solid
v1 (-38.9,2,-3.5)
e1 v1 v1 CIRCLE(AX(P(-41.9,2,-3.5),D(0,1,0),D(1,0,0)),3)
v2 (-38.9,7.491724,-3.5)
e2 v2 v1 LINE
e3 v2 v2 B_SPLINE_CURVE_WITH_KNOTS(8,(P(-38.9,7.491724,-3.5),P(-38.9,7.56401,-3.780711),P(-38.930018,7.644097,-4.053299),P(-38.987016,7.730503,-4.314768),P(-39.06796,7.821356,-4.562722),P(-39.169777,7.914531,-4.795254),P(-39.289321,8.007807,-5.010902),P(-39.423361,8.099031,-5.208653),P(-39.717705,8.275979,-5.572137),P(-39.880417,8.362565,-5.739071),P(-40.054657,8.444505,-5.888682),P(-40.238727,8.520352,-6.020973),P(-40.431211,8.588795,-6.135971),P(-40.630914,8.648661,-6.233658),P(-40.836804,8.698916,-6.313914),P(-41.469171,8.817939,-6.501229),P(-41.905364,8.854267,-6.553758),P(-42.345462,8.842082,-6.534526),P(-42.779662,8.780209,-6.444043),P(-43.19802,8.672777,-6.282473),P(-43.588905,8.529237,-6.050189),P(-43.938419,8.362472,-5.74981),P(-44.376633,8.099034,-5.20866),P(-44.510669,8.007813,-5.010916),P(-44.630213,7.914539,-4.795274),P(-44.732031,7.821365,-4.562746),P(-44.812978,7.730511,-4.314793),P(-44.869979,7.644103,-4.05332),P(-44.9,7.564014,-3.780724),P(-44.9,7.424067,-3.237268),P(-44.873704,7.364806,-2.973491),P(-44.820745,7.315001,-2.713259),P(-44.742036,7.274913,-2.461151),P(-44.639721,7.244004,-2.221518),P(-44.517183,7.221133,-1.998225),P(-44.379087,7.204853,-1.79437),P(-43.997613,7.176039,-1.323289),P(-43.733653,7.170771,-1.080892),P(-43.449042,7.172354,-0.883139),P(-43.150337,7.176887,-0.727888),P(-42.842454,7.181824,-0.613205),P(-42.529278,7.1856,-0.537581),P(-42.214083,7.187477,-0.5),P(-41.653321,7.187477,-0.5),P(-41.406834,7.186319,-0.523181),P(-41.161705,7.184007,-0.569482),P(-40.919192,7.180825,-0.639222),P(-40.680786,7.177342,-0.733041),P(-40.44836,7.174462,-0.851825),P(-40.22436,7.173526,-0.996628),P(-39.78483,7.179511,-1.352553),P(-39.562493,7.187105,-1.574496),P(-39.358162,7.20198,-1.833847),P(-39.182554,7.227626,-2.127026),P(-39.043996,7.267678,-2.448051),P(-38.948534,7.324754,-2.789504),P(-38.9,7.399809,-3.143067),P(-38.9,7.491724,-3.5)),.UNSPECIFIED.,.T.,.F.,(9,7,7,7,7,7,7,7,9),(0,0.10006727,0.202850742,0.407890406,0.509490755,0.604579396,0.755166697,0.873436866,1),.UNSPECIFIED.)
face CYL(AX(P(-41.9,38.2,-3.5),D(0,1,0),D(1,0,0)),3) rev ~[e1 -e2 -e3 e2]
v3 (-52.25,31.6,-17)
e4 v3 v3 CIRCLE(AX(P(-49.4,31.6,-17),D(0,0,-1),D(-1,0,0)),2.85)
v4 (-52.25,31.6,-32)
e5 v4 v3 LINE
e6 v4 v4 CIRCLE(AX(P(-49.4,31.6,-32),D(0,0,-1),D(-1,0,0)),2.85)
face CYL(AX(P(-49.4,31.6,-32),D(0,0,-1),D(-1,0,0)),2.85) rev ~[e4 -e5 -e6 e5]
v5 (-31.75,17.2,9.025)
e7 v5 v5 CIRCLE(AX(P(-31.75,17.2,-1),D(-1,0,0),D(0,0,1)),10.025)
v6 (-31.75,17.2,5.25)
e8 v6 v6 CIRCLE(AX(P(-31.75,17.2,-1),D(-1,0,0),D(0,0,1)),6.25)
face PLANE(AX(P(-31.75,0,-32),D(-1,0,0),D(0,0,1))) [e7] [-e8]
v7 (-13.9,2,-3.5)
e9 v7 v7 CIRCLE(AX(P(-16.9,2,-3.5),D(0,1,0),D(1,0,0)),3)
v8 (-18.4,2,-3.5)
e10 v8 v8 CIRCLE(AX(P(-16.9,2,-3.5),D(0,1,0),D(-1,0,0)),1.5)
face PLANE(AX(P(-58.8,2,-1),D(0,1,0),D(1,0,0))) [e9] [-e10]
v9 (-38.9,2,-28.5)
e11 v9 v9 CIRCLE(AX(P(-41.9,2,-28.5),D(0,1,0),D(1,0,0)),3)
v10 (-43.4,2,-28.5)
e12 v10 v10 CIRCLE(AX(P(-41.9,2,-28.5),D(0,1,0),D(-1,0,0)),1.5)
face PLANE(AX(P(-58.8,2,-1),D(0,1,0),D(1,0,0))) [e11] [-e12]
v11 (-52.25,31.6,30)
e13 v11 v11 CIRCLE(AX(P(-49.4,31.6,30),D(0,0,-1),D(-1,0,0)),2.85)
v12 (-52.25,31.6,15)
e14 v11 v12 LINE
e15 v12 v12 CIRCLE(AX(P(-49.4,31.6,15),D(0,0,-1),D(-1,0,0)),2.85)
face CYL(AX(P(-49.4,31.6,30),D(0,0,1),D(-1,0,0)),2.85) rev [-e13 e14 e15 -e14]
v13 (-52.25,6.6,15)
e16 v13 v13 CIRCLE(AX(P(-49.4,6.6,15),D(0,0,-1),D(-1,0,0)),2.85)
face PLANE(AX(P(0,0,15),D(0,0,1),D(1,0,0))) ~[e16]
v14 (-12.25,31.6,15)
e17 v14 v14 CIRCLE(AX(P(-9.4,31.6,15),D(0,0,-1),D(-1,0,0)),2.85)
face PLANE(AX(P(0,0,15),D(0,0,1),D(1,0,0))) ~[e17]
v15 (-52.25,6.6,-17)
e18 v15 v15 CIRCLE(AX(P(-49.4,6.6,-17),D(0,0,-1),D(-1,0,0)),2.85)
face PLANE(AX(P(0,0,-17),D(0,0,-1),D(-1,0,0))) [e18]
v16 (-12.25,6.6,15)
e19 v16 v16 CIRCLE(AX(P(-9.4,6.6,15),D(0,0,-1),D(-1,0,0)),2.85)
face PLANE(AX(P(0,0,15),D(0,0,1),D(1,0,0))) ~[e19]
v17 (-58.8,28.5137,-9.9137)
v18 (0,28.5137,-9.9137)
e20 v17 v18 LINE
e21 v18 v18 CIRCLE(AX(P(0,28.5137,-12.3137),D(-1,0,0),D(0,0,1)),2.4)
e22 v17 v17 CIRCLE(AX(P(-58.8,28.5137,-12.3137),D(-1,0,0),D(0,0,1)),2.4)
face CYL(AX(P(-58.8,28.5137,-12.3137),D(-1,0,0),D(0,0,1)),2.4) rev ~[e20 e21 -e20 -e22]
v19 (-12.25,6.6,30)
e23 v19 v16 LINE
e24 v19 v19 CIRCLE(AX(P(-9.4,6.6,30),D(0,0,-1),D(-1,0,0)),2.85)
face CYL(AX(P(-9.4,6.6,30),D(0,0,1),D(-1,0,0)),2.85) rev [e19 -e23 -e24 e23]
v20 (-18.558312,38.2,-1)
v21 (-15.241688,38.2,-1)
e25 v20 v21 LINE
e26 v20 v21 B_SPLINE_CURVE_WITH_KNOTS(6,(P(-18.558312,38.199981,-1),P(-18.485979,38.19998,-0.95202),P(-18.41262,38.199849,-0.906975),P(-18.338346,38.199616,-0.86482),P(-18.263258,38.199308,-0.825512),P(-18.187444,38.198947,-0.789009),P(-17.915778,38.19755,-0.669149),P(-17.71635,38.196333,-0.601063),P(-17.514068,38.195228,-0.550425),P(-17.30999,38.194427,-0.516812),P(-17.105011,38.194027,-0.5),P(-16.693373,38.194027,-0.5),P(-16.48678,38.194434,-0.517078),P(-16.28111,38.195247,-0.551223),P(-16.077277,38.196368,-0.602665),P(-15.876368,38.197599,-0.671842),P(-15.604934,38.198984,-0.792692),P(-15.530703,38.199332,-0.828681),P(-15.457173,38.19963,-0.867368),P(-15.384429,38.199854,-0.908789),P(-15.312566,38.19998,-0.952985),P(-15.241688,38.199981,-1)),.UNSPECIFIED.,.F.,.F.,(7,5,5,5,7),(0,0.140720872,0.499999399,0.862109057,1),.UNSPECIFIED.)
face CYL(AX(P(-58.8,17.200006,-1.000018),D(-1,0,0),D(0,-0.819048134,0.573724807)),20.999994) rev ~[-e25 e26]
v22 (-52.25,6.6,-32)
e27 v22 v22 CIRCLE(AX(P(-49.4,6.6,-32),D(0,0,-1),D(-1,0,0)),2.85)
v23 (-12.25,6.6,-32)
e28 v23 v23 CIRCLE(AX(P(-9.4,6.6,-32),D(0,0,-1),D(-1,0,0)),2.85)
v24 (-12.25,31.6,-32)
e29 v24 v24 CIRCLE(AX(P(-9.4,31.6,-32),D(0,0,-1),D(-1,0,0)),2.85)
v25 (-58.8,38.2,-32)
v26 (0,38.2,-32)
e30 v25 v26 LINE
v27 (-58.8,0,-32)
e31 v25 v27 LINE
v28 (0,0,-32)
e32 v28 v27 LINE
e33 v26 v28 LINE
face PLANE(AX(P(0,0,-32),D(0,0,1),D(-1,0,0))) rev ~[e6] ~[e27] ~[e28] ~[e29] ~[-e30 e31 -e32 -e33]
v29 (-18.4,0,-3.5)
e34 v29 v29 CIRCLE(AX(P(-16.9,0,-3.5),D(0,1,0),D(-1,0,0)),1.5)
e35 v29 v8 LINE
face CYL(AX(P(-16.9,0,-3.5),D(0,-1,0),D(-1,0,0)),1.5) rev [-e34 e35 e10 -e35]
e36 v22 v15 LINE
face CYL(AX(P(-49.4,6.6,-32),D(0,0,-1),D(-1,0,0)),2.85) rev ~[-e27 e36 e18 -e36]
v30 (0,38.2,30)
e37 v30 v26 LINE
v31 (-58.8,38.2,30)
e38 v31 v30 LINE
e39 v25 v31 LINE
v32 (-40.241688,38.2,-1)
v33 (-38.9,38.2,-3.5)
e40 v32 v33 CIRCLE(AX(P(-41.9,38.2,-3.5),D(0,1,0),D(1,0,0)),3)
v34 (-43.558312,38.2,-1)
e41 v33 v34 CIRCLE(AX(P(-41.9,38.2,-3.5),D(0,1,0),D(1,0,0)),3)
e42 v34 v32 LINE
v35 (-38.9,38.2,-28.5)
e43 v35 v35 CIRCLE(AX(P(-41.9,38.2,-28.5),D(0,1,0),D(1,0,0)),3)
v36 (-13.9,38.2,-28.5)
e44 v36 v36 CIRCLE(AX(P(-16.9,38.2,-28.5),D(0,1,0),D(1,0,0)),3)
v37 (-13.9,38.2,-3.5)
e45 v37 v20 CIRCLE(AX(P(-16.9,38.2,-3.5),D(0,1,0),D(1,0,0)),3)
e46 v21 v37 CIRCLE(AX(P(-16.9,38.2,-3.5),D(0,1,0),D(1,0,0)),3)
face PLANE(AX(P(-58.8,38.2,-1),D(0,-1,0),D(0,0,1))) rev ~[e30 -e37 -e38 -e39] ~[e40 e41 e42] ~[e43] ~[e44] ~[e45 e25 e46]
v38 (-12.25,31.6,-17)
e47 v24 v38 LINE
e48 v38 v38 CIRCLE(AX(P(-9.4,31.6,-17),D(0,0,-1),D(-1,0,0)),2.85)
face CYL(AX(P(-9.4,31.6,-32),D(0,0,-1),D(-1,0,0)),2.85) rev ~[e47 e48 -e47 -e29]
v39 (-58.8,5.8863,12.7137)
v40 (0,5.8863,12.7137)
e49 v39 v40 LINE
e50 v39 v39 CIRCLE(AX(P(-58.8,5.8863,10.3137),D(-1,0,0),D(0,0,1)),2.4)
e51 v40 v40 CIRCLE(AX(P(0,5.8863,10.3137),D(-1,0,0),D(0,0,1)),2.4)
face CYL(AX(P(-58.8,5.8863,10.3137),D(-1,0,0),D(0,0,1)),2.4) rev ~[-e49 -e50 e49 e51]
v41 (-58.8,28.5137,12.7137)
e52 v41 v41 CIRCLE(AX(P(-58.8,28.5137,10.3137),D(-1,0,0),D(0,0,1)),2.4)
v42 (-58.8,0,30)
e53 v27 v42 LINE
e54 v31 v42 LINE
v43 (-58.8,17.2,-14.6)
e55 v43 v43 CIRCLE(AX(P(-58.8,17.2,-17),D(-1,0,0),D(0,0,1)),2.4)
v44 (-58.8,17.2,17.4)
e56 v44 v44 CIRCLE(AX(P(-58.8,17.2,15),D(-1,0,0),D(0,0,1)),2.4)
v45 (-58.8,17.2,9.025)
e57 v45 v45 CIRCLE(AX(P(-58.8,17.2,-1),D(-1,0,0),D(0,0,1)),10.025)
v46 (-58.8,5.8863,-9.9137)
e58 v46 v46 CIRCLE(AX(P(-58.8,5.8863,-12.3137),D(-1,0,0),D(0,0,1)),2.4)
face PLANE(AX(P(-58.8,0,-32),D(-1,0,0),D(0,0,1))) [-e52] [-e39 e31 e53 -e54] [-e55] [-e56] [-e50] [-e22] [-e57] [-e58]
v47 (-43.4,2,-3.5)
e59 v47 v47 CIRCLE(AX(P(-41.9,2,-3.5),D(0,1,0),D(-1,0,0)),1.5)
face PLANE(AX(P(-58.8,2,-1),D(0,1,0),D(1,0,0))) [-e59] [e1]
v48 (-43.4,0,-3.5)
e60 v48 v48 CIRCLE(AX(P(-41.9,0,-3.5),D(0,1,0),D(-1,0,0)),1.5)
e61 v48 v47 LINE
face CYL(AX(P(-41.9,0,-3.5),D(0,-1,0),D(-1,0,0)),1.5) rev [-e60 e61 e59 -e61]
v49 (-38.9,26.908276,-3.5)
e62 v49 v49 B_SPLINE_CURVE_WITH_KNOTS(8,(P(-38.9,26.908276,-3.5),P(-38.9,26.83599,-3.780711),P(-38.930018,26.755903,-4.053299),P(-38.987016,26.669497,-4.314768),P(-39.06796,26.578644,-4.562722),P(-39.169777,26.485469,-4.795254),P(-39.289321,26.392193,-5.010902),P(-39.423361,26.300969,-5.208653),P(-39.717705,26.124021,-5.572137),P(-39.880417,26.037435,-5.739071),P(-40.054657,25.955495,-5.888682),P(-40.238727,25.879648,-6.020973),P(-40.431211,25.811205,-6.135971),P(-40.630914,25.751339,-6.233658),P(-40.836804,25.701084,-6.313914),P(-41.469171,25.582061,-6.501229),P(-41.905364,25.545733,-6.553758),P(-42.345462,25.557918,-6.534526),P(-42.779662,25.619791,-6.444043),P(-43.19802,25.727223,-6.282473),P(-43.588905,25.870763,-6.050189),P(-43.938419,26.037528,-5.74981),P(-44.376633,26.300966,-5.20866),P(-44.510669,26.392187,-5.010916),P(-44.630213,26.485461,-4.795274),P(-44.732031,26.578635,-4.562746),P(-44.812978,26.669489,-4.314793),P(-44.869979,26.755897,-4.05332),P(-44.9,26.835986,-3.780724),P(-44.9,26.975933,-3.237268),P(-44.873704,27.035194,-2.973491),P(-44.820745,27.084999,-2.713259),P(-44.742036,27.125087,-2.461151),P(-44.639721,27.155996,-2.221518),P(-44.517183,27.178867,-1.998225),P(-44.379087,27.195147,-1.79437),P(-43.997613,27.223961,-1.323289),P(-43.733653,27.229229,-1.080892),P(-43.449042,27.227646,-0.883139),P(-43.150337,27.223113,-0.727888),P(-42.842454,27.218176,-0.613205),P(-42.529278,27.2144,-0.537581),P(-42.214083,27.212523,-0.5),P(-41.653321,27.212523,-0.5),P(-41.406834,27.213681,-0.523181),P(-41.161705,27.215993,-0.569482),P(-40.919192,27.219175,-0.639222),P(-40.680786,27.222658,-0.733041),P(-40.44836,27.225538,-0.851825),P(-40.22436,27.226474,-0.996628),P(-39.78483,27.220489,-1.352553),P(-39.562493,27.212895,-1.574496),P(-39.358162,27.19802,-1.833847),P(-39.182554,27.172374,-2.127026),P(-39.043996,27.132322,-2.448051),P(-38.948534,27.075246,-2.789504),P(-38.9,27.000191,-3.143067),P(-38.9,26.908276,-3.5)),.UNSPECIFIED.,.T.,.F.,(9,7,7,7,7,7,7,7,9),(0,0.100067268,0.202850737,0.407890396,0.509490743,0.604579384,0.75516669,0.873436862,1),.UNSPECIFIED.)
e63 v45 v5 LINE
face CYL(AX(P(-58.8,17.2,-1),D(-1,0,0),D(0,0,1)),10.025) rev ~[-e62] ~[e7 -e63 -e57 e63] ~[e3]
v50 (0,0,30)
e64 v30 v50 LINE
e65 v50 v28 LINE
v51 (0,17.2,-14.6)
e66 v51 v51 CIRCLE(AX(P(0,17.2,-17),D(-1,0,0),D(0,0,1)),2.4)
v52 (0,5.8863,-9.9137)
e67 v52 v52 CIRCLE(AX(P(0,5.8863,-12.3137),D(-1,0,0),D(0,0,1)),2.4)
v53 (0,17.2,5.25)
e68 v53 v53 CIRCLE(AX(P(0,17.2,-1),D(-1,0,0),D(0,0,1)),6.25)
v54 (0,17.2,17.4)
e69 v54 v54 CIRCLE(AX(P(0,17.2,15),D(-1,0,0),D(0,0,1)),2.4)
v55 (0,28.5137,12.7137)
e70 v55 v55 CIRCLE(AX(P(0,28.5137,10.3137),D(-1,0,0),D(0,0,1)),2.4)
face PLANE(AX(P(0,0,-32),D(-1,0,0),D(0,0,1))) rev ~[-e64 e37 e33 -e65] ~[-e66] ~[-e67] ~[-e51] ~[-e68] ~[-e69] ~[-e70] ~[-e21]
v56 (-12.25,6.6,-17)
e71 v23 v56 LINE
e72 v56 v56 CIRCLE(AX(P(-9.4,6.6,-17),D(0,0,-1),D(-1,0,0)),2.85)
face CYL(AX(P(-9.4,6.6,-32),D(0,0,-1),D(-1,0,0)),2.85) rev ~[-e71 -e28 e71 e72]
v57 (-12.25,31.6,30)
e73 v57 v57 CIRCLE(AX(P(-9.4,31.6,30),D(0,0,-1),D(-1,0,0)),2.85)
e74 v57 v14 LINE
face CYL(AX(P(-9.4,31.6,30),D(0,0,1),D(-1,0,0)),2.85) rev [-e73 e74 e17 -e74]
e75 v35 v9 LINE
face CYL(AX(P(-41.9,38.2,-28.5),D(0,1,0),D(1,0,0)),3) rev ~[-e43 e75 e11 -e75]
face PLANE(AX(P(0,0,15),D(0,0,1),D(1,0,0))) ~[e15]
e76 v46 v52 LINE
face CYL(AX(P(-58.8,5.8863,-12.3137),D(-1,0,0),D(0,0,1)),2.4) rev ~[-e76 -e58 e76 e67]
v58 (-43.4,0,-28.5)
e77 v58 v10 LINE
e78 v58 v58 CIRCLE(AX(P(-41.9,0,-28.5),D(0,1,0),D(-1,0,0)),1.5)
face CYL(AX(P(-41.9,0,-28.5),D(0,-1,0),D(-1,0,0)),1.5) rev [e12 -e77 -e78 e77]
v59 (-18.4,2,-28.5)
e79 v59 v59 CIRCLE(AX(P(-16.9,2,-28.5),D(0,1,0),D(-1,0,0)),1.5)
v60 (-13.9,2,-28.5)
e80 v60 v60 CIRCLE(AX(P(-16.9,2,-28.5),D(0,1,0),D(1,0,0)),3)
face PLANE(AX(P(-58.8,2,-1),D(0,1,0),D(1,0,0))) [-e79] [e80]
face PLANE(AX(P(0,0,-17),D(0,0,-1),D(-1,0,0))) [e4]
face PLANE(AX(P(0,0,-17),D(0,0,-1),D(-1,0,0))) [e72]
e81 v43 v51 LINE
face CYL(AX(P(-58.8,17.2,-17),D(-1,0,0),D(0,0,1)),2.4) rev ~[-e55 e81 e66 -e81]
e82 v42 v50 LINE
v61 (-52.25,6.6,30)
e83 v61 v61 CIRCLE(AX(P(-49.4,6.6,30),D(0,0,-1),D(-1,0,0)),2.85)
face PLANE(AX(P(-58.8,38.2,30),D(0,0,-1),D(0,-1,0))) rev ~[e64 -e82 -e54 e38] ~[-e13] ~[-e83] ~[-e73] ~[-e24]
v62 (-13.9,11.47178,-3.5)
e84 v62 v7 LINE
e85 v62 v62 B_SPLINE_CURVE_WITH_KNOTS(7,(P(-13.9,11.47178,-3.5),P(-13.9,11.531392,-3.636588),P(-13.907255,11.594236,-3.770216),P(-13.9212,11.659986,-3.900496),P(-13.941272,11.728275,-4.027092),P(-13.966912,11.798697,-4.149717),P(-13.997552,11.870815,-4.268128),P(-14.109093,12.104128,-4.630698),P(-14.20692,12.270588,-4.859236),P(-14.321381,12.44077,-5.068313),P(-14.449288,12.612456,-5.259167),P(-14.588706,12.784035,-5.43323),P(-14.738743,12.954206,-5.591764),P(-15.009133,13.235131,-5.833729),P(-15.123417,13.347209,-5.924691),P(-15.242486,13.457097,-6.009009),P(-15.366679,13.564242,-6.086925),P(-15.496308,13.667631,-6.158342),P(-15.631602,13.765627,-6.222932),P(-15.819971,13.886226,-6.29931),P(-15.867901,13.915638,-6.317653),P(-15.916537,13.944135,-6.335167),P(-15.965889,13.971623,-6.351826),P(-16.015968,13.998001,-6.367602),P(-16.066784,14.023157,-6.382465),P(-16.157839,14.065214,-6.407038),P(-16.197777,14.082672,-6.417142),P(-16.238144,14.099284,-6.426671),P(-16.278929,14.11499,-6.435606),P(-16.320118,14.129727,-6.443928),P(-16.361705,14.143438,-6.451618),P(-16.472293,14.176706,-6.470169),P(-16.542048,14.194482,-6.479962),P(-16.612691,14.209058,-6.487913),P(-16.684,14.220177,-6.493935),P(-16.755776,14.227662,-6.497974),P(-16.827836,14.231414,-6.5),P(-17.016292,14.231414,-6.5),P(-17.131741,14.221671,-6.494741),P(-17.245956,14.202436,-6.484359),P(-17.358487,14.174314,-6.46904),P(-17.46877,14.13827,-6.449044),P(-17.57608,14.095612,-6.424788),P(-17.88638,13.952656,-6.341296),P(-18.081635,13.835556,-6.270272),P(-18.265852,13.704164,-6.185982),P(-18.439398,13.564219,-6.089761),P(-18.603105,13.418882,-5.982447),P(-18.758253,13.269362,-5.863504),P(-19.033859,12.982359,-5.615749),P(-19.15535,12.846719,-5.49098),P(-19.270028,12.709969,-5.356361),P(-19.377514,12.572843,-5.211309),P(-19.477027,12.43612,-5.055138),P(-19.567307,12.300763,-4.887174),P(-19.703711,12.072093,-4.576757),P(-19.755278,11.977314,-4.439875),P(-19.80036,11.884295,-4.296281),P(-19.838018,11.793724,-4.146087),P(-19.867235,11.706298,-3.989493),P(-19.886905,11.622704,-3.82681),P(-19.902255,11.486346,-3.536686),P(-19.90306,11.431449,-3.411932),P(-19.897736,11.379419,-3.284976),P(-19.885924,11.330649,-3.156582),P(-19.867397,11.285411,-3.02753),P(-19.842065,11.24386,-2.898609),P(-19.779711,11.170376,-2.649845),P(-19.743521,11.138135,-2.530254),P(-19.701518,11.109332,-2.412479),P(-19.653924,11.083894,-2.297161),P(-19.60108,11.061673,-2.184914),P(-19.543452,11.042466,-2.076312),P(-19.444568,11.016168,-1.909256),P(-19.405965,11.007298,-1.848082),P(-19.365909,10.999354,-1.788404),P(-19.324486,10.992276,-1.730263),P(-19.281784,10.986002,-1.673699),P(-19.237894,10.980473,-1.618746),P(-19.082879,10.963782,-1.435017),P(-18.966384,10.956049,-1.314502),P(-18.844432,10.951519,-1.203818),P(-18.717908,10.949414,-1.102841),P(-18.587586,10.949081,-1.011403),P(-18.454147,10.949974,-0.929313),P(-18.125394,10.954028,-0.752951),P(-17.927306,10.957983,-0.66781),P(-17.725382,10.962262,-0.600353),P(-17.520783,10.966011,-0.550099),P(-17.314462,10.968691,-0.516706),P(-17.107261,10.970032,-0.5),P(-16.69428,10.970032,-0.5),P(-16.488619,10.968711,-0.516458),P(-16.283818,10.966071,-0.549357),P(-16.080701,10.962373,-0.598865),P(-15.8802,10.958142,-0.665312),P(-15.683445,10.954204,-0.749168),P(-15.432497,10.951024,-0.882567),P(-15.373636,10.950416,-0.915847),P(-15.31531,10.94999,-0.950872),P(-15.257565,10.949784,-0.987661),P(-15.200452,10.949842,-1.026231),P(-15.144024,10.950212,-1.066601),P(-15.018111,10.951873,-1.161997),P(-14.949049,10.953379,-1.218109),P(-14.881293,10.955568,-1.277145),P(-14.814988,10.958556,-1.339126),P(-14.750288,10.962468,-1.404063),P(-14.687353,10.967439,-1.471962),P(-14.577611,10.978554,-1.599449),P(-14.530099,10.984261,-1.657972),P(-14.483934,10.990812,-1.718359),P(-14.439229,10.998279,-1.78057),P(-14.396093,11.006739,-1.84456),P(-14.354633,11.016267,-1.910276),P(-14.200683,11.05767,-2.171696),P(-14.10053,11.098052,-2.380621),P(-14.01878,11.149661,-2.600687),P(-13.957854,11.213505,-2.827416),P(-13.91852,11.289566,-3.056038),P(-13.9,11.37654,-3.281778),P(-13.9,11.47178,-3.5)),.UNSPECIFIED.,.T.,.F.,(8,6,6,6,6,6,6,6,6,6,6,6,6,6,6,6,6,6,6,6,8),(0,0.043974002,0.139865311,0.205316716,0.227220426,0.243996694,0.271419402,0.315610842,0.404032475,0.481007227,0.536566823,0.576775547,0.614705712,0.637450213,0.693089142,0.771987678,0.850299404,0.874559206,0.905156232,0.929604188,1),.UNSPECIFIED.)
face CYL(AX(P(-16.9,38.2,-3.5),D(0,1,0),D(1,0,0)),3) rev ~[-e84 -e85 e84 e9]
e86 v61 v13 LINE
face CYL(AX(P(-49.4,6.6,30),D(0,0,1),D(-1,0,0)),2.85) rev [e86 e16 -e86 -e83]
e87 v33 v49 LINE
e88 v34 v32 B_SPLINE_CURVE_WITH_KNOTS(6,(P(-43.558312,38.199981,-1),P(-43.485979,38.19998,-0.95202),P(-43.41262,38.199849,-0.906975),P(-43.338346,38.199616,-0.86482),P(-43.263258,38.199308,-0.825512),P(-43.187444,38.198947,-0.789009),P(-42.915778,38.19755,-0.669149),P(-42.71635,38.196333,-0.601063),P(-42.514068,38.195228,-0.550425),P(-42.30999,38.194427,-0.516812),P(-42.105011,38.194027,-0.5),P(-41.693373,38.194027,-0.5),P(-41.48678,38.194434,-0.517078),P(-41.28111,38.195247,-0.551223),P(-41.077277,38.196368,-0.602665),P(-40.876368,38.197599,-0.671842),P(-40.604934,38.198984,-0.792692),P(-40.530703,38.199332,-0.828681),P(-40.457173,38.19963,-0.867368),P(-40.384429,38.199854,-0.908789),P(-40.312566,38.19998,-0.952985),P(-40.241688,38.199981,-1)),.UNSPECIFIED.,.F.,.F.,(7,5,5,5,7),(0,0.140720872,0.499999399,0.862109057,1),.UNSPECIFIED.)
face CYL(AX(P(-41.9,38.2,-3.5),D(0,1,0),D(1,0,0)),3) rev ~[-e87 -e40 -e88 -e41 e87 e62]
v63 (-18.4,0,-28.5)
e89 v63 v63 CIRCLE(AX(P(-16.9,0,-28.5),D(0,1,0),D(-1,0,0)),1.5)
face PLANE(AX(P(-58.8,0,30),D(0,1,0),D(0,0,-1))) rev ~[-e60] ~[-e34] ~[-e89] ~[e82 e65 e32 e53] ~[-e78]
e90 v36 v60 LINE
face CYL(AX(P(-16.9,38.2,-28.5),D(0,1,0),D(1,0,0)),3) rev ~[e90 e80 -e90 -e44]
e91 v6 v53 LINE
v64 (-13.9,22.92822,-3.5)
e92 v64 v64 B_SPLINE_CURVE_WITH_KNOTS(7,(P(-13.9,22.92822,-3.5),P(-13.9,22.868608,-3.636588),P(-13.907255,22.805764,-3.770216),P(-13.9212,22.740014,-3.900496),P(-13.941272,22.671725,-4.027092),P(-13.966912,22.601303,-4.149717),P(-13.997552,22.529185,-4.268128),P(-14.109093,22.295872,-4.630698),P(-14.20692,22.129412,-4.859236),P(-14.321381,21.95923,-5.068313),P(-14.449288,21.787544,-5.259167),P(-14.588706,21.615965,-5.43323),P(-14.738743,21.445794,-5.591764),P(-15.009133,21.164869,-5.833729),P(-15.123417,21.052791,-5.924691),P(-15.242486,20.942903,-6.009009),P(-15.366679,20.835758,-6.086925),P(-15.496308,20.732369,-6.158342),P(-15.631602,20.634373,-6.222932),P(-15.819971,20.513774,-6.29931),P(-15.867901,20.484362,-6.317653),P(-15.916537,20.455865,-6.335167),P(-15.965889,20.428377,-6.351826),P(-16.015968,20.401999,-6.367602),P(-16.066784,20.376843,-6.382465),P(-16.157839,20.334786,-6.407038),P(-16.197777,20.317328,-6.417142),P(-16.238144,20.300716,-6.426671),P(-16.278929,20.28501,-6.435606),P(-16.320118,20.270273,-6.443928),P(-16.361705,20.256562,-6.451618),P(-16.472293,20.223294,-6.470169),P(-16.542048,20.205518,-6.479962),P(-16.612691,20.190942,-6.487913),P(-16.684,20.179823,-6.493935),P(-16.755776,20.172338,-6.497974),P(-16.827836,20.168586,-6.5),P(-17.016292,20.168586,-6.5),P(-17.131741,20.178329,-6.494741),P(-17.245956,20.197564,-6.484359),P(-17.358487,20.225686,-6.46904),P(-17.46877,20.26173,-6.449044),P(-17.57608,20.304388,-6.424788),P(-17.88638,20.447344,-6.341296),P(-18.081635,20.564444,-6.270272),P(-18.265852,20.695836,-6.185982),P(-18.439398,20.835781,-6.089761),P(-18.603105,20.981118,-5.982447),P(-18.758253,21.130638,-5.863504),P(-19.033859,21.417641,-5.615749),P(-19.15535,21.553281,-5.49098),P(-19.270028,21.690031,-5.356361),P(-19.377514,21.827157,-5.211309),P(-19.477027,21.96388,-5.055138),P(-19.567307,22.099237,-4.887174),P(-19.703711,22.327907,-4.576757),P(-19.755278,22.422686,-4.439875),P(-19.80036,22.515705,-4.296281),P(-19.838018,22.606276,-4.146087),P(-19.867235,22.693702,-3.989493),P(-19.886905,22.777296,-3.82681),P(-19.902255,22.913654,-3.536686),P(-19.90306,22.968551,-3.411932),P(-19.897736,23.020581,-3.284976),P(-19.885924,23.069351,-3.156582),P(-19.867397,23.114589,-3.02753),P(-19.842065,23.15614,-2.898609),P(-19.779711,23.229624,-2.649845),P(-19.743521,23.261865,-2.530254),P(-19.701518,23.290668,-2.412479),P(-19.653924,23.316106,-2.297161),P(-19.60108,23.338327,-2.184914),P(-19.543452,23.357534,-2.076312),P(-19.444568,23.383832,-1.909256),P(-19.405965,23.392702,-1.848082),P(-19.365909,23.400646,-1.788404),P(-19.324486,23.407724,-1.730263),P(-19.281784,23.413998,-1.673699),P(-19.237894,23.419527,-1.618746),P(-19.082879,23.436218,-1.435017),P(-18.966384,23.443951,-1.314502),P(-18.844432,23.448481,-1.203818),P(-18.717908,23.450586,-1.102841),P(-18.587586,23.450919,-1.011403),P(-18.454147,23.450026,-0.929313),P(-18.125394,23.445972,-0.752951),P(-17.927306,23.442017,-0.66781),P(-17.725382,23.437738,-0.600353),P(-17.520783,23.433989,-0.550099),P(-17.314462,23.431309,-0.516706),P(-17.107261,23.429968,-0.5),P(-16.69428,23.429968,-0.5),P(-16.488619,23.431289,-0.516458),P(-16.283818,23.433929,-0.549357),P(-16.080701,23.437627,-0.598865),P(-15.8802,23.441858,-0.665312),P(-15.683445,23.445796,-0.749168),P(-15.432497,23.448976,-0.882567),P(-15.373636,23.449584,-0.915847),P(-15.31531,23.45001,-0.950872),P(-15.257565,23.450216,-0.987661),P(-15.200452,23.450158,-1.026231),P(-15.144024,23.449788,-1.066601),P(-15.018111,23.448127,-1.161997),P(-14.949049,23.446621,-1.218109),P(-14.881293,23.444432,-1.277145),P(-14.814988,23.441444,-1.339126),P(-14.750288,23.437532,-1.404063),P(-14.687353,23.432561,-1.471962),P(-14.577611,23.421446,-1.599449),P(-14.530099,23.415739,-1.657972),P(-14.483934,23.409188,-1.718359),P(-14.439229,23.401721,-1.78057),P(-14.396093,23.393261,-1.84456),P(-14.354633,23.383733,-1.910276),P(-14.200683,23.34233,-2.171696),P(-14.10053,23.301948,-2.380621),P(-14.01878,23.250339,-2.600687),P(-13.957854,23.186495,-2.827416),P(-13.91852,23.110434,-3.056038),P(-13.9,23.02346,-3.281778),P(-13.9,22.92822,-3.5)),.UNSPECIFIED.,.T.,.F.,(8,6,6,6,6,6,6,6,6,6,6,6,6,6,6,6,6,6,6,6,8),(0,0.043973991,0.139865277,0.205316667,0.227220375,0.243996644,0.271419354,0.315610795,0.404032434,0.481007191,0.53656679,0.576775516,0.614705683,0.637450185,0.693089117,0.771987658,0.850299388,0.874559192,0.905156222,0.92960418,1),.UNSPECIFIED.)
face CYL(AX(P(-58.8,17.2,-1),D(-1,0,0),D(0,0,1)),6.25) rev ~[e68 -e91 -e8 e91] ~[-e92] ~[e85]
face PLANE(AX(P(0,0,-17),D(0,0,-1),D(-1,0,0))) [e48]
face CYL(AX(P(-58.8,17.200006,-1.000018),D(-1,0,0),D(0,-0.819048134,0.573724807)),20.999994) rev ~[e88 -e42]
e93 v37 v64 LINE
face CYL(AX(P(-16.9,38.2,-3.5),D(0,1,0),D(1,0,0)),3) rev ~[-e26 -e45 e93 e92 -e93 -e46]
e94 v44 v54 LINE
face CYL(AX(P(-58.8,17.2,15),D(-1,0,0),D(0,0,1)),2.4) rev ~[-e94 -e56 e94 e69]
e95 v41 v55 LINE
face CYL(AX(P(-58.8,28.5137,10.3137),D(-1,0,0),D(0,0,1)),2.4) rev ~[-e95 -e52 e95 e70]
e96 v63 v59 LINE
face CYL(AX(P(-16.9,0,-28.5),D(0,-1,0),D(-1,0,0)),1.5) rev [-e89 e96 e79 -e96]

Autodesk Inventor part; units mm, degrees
ref_plane "YZ Plane" through (0, 0, 0) normal (1, 0, 0) x (0, 1, 0)
ref_plane "XZ Plane" through (0, 0, 0) normal (0, 1, 0) x (-1, 0, 0)
ref_plane "XY Plane" through (0, 0, 0) normal (0, 0, 1) x (1, 0, 0)
sketch "Sketch1" plane through (0, 0, 0) normal (0, 1, 0) x (-1, 0, 0)
  line L0 (58.8, 0) -> (0, 0)
  line L1 (0, 0) -> (0, -32)
  line L2 (0, -32) -> (58.8, -32)
  line L3 (58.8, -32) -> (58.8, 0)
  line L4 (41.9, -3.5) -> (16.9, -3.5) construction
  line L5 (16.9, -3.5) -> (16.9, -28.5) construction
  line L6 (16.9, -28.5) -> (41.9, -28.5) construction
  line L7 (41.9, -28.5) -> (41.9, -3.5) construction
  circle A0 centre (41.9, -3.5) radius 1.5
  circle A1 centre (16.9, -3.5) radius 1.5
  circle A2 centre (41.9, -28.5) radius 1.5
  circle A3 centre (16.9, -28.5) radius 1.5
  point P0 (41.9, -16)
  point P1 (58.8, -16)
  point P2 (29.4, -28.5)
  point P3 (29.4, -32)
  dimension "d0" = 3
  dimension "d1" = 25
  dimension "d2" = 32
  dimension "d3" = 58.8
extrude "Extrusion1" add sketch "Sketch1" along normal blind 2
sketch "Sketch2" plane through (-58.8, 0, -32) normal (-1, 0, 0) x (0, 0, 1)
  circle A0 centre (31, 17.2) radius 16 construction
  circle A1 centre (42.3137, 28.5137) radius 2.4
  circle A2 centre (15, 17.2) radius 2.4
  circle A3 centre (19.6863, 5.8863) radius 2.4
  circle A4 centre (19.6863, 28.5137) radius 2.4
  circle A5 centre (47, 17.2) radius 2.4
  circle A6 centre (42.3137, 5.8863) radius 2.4
  line L0 (19.6863, 28.5137) -> (42.3137, 5.8863) construction
  line L1 (15, 17.2) -> (31, 17.2) construction
  line L2 (0, 2) -> (32, 2) projected
  arc A7 (43.0482, 0) -> (16.51, 2) centre (31, 17.2) ccw
  line L3 (0, 0) -> (32, 0) projected
  line L4 (32, 0) -> (43.0482, 0)
  line L5 (32, 0) -> (32, 2) projected
  line L6 (0, 2) -> (0, 38.2)
  line L7 (0, 38.2) -> (31, 38.2)
  circle A8 centre (31, 17.2) radius 6.25
  line L8 (31, 38.2) -> (62, 38.2)
  line L9 (62, 38.2) -> (62, 0)
  line L10 (32, 0) -> (0, 0) projected
  line L11 (62, 0) -> (32, 0)
  point P0 (31, 17.2)
  dimension "d6" = 4.8
  dimension "d7" = 32
  dimension "d9" = 15.2
  dimension "d11" = 45
  dimension "d12" = 31
  dimension "d14" = 21
  dimension "d17" = 12.5
  dimension "d29" = 31
extrude "Extrusion2" add sketch "Sketch2" against normal up to surface (58.8 mm away) contours L6 L7 A7 L2 | A7 L4 L5 L2
sketch "Sketch3" plane through (-58.8, 0, -32) normal (-1, 0, 0) x (0, 0, 1)
  circle A0 centre (31, 17.2) radius 10.025
  circle A1 centre (31, 17.2) radius 6.25 construction
  point P0 (32, 0)
  dimension "d18" = 20.05
extrude "Extrusion3" cut sketch "Sketch3" against normal blind 27.05
sketch "Sketch4" plane through (-58.8, 38.2, -1) normal (0, 1, 0) x (1, 0, 0)
  circle A0 centre (41.9, 2.5) radius 1.5 projected
  circle A1 centre (41.9, 27.5) radius 1.5 projected
  circle A2 centre (16.9, 2.5) radius 1.5 projected
  circle A3 centre (16.9, 27.5) radius 1.5 projected
  circle A4 centre (16.9, 2.5) radius 3
  circle A5 centre (16.9, 27.5) radius 3
  circle A6 centre (41.9, 27.5) radius 3
  circle A7 centre (41.9, 2.5) radius 3
  point P0 (58.8, -1)
  dimension "d21" = 6
extrude "Extrusion4" cut sketch "Sketch4" against normal up to surface (36.2 mm away) contours A0 | A1 | A2 | A3 | A4 | A5 | A6 | A7
sketch "Sketch5" plane through (0, 0, -32) normal (0, 0, -1) x (-1, 0, 0)
  circle A0 centre (49.4, 6.6) radius 2.85
  circle A1 centre (9.4, 6.6) radius 2.85
  circle A2 centre (49.4, 31.6) radius 2.85
  circle A3 centre (9.4, 31.6) radius 2.85
  line L0 (49.4, 31.6) -> (9.4, 31.6) construction
  line L1 (9.4, 31.6) -> (9.4, 6.6) construction
  line L2 (9.4, 6.6) -> (49.4, 6.6) construction
  line L3 (49.4, 6.6) -> (49.4, 31.6) construction
  line L4 (58.8, 38.2) -> (0, 38.2) construction
  line L5 (0, 0) -> (0, 38.2) construction
  point P0 (29.4, 31.6)
  point P1 (29.4, 38.2)
  point P2 (9.4, 19.1)
  point P3 (0, 19.1)
  dimension "d24" = 5.7
  dimension "d25" = 40
  dimension "d26" = 25
extrude "Extrusion5" cut sketch "Sketch5" against normal blind 15
sketch "Sketch6" plane through (-58.8, 0, -32) normal (-1, 0, 0) x (0, 0, 1)
  arc A0 (43.0482, 0) -> (31, 38.2) centre (31, 17.2) ccw projected
  line L0 (31, 38.2) -> (62, 38.2)
  line L1 (62, 38.2) -> (62, 0)
  line L2 (43.0482, 0) -> (0, 0) projected
  line L3 (62, 0) -> (43.0482, 0)
  point P0 (32, 0)
  dimension "d30" = 31
extrude "Extrusion6" add sketch "Sketch6" against normal up to surface (58.8 mm away)
ref_plane "Work Plane1" through (0, 38.2, -1) normal (0, 0, -1) x (-1, 0, 0)
mirror "Mirror1" about plane through (0, 38.2, -1) normal (0, 0, -1) of "Extrusion5"
properties part number "X_Axis_Connector"
